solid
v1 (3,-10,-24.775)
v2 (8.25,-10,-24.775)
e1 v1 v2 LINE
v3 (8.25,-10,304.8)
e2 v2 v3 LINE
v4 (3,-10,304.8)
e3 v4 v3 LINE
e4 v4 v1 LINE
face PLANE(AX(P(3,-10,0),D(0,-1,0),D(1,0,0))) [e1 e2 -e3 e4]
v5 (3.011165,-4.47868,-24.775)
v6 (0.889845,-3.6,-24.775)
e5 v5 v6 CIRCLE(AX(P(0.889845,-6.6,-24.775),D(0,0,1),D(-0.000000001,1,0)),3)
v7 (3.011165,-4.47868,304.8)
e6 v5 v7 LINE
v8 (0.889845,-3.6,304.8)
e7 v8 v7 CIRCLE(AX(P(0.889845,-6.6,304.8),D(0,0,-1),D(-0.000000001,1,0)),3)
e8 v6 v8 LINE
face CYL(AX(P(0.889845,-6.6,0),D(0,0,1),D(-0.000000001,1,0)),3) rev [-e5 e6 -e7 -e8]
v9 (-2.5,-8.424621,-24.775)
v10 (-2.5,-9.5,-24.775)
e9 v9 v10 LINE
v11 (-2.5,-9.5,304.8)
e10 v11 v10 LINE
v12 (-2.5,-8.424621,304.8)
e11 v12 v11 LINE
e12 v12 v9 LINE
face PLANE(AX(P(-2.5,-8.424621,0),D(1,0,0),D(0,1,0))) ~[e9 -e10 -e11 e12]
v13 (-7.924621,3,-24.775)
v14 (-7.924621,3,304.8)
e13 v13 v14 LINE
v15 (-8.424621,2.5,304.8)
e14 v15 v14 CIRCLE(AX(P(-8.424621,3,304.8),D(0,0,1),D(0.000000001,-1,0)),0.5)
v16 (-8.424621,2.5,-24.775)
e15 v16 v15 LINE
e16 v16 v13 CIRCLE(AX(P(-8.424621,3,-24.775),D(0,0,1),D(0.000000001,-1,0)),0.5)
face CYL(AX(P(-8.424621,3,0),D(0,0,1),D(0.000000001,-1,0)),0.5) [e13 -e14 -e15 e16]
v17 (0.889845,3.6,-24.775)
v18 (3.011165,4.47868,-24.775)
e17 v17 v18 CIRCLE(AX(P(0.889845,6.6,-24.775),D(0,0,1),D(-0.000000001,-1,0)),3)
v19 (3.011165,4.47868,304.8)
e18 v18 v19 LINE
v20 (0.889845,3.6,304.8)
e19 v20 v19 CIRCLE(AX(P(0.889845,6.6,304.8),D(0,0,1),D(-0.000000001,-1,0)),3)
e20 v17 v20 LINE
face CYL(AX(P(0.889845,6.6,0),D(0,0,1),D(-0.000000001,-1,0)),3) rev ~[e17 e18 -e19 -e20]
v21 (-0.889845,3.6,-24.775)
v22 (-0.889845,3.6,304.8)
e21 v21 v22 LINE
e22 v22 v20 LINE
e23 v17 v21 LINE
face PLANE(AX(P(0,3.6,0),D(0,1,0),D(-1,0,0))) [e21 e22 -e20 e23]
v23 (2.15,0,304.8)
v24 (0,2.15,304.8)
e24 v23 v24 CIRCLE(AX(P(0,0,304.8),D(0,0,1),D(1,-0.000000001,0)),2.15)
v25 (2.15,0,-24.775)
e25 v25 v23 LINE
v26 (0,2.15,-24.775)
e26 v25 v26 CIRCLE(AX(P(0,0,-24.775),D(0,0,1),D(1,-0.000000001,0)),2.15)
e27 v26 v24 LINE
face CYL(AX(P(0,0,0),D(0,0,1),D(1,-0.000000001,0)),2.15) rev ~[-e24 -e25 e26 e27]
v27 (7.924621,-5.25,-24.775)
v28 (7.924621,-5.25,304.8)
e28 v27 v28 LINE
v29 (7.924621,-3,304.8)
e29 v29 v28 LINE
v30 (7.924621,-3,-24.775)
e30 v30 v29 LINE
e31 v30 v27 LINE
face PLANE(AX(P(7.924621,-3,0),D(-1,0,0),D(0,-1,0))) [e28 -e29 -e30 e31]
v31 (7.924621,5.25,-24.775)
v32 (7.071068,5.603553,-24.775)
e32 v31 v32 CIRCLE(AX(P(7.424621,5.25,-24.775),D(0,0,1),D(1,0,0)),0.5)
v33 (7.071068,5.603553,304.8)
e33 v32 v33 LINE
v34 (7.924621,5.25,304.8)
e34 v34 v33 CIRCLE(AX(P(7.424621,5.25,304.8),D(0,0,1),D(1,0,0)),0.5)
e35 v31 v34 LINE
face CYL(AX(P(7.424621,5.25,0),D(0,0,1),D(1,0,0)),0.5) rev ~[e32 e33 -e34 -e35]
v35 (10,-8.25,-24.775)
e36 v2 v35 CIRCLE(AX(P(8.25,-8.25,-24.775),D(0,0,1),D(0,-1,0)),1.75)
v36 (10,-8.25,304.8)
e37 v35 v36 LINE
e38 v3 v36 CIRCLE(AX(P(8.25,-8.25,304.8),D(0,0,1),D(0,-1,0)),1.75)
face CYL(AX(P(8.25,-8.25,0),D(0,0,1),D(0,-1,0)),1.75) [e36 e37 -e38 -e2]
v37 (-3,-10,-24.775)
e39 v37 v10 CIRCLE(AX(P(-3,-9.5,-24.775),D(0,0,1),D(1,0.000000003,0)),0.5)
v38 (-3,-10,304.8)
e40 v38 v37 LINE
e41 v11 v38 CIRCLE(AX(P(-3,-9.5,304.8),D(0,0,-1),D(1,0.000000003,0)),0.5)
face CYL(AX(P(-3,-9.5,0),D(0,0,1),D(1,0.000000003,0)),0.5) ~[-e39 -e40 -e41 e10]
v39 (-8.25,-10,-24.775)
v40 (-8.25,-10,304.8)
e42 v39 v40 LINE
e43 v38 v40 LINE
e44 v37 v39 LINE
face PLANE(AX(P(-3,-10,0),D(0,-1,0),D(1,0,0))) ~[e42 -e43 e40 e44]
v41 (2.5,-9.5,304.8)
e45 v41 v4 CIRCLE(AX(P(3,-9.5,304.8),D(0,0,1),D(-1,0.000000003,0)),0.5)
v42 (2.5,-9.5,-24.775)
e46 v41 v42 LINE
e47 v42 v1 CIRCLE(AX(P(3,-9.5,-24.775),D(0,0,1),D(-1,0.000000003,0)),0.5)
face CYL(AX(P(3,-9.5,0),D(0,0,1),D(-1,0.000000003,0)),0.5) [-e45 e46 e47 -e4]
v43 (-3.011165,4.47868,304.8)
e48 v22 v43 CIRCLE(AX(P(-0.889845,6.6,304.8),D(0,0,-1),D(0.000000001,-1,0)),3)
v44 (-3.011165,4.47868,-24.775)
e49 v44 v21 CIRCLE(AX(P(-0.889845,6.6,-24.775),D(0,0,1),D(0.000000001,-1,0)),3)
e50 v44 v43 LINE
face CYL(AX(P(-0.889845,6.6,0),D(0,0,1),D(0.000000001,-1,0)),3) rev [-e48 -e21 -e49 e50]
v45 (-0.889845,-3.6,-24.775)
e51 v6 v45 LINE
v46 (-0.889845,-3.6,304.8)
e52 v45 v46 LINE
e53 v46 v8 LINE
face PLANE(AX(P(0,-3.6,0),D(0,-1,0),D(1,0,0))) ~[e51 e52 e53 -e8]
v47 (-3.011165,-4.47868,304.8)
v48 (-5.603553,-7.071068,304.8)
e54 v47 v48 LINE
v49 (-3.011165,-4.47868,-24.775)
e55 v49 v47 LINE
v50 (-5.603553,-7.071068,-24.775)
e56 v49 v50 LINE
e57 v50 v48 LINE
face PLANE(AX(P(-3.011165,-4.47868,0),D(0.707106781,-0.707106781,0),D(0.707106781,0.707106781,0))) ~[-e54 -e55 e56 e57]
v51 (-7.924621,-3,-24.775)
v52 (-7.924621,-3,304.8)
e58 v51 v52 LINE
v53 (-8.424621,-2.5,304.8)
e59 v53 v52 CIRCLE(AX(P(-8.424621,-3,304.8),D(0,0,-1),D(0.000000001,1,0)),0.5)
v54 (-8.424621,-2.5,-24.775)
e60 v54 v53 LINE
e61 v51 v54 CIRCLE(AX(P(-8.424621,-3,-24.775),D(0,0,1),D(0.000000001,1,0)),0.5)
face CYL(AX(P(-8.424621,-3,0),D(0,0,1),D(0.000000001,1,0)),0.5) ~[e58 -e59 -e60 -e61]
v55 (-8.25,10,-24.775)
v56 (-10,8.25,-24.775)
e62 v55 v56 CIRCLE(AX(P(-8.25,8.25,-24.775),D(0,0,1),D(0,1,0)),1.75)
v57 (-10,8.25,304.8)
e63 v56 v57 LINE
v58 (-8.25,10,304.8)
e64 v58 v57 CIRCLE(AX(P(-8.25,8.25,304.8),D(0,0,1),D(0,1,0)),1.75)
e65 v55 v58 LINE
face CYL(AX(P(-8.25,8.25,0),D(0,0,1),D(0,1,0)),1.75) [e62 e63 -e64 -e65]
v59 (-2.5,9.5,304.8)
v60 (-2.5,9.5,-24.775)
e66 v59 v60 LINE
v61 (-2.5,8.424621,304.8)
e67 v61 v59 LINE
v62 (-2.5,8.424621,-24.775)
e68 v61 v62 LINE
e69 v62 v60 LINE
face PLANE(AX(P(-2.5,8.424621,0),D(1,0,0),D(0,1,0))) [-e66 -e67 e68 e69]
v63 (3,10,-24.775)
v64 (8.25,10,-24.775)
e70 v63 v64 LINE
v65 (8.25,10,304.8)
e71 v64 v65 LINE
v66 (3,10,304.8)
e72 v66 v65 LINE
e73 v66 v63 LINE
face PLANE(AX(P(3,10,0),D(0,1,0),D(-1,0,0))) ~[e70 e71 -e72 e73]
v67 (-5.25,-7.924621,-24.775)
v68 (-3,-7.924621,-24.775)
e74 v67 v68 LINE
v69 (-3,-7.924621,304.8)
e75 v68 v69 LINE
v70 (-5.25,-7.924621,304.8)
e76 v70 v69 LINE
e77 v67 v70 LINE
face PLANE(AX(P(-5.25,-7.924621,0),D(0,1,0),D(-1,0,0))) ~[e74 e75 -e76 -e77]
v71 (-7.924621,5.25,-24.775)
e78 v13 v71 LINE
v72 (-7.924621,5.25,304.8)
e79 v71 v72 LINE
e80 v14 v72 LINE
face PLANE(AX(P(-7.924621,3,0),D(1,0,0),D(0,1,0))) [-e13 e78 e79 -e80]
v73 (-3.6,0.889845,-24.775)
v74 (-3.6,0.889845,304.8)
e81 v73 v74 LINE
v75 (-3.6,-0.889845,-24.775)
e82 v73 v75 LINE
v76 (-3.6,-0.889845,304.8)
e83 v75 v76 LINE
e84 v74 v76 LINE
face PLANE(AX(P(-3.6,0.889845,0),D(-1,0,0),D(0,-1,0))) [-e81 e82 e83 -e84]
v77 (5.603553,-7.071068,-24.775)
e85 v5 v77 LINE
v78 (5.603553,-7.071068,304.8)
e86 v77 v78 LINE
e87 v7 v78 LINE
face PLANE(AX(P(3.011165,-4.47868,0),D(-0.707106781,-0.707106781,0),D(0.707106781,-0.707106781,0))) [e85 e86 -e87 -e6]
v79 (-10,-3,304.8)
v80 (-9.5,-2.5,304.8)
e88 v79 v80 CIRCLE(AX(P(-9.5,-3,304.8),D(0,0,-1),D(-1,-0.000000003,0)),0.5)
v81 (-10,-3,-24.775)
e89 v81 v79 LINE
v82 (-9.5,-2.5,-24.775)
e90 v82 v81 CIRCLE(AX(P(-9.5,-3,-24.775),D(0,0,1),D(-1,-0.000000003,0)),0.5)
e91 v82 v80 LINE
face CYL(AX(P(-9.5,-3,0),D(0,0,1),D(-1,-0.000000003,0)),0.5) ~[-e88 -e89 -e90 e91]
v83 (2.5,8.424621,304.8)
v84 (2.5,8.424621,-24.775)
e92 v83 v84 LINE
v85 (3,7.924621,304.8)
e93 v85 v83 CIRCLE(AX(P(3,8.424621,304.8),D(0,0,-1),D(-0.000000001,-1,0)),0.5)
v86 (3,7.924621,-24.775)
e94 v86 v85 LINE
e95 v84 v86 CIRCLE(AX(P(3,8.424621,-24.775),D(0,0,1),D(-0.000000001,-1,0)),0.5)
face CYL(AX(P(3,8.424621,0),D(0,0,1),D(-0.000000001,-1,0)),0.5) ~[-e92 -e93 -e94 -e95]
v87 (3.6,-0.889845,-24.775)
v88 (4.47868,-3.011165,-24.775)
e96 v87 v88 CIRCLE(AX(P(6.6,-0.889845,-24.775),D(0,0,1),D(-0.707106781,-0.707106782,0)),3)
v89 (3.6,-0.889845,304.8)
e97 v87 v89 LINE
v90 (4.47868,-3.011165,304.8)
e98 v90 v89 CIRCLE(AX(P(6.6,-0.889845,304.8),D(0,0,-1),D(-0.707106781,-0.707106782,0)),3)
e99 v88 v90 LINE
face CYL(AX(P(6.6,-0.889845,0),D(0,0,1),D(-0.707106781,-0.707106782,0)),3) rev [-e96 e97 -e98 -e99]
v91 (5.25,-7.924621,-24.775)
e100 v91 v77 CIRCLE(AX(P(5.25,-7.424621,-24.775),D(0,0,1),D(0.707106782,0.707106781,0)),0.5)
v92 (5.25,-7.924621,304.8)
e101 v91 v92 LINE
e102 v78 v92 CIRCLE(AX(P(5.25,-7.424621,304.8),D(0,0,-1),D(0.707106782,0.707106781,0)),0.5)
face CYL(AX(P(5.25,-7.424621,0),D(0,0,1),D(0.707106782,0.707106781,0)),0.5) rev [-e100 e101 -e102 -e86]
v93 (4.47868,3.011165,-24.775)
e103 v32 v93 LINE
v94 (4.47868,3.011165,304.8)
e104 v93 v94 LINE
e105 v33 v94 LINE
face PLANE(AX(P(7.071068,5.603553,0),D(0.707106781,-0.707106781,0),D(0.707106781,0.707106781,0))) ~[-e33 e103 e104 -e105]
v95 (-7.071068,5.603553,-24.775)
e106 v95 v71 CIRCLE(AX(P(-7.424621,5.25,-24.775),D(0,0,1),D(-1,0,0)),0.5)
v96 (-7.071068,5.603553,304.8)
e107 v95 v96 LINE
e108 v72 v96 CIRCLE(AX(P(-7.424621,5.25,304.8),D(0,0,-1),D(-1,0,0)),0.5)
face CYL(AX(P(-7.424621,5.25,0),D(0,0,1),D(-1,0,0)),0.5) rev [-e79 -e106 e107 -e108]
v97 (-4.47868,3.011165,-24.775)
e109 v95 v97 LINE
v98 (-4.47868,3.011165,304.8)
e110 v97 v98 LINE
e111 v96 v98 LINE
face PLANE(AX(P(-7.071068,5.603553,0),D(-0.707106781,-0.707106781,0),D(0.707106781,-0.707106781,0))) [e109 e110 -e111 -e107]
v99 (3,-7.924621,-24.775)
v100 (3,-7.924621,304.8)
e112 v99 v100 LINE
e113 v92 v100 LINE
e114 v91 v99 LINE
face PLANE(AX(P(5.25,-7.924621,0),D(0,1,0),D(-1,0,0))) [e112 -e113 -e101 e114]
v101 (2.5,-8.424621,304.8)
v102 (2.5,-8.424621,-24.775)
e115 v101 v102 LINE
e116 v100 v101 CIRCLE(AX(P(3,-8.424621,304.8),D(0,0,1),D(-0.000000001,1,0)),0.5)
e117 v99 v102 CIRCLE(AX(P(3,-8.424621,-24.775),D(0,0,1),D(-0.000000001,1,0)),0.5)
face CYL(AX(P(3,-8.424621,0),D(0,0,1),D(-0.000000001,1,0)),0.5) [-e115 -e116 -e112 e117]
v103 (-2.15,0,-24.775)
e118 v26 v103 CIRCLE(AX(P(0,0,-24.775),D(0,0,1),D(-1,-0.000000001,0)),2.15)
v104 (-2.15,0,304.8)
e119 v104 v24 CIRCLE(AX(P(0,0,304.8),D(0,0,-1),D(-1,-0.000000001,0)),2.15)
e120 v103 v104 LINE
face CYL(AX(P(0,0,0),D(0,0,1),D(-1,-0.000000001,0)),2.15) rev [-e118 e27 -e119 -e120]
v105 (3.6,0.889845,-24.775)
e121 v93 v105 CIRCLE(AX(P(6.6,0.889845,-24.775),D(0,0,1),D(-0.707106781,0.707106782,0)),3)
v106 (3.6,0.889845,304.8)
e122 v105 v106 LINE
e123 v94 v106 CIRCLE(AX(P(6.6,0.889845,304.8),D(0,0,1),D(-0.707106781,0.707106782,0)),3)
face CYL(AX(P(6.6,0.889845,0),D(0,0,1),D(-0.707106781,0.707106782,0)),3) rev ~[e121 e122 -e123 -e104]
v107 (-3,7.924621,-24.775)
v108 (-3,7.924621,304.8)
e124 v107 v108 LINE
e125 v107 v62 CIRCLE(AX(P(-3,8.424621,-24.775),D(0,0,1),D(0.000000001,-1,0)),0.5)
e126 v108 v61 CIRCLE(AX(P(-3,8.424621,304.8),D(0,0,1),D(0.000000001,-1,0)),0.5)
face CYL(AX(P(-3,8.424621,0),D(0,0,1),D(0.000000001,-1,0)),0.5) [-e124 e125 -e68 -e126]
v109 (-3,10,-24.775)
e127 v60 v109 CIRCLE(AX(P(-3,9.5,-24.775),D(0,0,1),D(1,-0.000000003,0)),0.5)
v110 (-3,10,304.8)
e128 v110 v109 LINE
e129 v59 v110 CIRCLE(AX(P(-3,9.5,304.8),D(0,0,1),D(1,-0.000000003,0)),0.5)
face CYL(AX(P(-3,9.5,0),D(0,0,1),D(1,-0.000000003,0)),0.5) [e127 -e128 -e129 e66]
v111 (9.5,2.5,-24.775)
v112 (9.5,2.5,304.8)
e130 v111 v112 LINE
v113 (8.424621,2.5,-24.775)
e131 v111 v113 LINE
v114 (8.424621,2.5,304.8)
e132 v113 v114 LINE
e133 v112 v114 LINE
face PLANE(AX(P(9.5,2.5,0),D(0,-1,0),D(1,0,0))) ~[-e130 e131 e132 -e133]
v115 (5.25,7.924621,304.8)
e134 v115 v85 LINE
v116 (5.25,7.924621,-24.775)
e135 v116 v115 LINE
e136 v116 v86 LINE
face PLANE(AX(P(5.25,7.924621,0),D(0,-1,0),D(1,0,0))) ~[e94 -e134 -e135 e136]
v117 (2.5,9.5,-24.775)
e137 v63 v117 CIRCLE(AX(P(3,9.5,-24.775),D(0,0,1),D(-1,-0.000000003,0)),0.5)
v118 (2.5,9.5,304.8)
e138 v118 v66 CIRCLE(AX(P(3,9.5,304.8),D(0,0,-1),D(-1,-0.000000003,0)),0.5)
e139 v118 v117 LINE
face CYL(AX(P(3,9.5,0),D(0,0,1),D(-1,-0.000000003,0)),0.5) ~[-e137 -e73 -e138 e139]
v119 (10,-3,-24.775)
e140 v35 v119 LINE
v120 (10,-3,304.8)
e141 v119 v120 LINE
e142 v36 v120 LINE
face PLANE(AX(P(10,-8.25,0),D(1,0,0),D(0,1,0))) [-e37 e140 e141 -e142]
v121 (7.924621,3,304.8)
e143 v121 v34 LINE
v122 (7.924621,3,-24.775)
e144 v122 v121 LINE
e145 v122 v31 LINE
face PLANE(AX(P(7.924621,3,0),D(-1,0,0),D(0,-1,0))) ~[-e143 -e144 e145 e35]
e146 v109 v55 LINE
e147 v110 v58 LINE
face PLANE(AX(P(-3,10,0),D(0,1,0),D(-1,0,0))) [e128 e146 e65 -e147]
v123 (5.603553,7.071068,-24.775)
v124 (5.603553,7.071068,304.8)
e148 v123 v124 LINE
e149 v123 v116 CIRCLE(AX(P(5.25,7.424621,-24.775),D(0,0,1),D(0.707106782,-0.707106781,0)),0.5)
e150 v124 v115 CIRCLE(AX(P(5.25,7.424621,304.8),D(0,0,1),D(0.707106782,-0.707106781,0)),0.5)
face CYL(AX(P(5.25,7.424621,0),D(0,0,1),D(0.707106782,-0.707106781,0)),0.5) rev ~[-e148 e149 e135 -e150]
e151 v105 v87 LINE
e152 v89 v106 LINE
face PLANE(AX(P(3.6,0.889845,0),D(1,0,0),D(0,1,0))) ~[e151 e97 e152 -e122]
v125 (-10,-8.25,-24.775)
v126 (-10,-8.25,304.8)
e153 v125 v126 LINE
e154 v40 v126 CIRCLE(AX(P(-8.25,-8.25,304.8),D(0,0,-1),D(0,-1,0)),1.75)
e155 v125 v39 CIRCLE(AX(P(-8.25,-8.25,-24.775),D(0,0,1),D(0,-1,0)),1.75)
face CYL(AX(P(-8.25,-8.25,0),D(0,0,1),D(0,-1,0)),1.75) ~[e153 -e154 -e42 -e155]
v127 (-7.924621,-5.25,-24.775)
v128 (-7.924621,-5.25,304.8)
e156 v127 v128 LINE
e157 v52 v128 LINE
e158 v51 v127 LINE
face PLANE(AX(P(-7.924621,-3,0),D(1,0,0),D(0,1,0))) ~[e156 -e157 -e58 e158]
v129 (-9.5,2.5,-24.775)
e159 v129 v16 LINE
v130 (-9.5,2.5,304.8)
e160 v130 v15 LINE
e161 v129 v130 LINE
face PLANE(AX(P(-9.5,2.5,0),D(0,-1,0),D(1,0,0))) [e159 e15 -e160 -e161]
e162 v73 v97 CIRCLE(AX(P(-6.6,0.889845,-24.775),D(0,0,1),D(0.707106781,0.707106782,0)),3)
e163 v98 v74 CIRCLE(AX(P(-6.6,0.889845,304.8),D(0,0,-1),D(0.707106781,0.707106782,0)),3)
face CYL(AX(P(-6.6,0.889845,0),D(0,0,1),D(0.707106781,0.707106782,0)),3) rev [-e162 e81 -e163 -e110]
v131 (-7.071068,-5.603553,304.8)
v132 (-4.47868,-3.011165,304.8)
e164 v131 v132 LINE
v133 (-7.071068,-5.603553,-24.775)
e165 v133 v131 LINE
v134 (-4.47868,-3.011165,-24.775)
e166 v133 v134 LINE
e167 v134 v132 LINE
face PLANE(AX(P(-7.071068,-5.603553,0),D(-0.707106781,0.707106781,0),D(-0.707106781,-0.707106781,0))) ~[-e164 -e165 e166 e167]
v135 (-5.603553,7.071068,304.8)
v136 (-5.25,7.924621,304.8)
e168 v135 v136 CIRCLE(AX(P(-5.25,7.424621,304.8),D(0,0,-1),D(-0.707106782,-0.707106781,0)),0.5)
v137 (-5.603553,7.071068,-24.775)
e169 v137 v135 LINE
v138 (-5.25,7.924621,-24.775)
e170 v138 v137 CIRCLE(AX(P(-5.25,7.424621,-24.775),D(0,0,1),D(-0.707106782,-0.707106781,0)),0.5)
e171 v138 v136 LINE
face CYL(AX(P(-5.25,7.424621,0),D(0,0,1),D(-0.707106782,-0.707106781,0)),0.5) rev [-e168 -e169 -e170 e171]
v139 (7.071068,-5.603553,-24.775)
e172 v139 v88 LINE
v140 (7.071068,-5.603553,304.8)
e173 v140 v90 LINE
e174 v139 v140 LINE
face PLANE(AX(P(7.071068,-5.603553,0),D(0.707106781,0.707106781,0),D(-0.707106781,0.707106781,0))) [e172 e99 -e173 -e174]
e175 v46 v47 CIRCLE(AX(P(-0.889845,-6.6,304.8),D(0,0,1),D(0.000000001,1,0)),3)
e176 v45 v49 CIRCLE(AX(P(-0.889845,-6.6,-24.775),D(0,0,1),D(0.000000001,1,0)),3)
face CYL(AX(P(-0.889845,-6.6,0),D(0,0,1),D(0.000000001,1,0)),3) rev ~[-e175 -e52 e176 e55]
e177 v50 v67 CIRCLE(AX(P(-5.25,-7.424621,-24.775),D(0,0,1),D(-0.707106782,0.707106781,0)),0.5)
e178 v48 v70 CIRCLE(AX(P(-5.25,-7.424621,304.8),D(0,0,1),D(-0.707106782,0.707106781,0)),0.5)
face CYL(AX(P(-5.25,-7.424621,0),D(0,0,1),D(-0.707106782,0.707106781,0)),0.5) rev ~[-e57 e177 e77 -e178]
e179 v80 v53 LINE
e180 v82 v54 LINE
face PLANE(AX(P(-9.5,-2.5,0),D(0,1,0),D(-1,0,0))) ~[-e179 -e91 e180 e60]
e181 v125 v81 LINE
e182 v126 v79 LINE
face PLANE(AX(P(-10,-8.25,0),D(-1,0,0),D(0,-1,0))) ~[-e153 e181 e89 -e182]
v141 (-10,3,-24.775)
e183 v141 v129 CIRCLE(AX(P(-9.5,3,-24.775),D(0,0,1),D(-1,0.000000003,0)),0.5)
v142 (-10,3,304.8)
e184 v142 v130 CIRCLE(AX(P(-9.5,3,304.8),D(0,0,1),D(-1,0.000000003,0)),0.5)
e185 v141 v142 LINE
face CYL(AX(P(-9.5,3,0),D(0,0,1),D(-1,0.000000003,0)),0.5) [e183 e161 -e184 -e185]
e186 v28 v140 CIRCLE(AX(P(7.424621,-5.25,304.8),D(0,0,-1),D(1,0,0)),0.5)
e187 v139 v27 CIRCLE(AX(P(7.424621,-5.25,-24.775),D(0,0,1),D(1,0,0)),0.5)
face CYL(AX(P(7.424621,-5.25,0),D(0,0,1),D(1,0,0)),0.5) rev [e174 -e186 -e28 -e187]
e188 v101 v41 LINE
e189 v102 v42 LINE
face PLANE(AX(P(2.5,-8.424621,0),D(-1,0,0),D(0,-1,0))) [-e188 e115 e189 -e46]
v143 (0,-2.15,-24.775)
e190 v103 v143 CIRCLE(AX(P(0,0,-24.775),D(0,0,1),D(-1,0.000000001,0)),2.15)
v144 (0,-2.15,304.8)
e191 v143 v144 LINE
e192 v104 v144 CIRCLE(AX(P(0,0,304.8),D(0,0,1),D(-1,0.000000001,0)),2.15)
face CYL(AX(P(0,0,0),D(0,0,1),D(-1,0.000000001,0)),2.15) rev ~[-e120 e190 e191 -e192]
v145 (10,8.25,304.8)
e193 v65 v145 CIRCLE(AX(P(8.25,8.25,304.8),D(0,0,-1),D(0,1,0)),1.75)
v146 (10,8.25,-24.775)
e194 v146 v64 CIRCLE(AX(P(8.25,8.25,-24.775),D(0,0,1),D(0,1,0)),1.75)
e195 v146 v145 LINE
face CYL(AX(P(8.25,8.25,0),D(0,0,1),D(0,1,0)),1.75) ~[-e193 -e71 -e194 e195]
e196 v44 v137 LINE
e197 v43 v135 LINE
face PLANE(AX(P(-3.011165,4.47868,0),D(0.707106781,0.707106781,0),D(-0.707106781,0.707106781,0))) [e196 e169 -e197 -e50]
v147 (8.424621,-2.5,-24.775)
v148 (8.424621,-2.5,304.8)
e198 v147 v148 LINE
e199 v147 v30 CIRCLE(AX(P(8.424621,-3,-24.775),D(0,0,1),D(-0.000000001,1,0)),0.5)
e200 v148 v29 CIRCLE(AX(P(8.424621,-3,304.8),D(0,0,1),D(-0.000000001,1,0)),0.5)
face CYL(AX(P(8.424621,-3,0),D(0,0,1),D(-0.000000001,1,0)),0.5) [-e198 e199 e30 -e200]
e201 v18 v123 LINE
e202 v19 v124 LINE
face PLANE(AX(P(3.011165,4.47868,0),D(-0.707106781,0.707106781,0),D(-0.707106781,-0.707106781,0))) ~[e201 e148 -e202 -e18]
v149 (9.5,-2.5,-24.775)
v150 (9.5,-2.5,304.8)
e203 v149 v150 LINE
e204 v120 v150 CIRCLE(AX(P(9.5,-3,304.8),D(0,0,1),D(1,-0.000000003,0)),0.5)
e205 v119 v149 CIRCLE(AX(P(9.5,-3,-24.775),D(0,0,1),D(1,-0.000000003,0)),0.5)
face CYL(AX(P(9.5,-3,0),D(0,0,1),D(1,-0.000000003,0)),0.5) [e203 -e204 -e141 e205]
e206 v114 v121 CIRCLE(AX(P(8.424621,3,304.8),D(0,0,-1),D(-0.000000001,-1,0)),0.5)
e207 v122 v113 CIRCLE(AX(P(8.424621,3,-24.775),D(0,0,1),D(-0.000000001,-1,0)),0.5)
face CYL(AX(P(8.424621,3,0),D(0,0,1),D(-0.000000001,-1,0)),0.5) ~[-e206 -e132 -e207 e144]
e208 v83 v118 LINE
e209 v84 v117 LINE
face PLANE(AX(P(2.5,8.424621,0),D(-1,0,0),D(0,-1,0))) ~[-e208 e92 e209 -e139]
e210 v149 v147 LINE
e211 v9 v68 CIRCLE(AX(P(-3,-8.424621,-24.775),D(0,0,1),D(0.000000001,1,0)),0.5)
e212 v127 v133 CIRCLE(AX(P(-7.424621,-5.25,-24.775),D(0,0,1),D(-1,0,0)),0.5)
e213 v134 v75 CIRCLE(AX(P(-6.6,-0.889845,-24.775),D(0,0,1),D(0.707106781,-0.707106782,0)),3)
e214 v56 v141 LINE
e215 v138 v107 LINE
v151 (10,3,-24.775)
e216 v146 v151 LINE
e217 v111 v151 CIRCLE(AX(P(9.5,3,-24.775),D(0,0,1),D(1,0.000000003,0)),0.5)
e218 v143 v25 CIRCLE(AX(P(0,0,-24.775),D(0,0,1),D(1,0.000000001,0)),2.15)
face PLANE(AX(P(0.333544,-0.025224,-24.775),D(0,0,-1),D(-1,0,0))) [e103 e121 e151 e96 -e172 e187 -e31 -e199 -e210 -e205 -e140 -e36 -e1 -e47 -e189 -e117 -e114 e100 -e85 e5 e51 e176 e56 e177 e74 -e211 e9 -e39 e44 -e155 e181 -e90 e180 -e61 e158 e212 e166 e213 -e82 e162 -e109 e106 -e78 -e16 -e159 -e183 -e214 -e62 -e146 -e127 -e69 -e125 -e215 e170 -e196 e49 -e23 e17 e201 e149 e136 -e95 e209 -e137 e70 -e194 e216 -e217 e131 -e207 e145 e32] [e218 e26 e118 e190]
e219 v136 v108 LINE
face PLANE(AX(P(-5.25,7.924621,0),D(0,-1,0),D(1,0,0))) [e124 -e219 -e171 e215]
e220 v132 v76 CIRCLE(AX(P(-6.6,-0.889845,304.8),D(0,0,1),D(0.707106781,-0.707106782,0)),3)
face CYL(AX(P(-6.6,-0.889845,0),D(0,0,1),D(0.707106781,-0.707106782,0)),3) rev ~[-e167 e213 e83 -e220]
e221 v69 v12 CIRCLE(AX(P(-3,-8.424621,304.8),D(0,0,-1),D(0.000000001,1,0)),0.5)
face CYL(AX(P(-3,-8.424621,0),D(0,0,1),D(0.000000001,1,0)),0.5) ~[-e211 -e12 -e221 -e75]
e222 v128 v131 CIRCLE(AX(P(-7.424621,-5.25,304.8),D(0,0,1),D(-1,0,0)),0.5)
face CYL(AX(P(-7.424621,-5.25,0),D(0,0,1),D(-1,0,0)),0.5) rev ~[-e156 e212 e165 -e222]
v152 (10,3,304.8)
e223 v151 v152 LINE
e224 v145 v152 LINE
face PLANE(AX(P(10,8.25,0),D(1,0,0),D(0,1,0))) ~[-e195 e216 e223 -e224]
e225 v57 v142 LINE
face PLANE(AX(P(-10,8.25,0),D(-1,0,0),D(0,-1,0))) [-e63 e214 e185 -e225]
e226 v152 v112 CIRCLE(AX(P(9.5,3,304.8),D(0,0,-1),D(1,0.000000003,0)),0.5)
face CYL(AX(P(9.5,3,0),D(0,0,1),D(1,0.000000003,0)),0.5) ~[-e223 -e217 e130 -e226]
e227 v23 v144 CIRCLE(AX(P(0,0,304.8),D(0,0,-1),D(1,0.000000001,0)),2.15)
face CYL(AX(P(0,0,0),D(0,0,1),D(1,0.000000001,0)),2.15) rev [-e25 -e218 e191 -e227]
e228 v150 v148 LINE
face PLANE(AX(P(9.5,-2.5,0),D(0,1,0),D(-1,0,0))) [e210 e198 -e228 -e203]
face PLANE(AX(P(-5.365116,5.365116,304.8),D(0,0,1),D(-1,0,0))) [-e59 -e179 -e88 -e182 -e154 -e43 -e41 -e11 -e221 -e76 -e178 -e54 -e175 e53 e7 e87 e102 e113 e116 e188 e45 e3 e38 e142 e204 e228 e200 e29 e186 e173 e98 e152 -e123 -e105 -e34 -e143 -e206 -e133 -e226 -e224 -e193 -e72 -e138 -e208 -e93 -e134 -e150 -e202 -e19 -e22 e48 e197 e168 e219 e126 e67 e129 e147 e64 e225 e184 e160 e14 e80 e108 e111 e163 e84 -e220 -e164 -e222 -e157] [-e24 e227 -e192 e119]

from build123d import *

# Parameters (mm, degrees)
BOSS_EXTRUDE1_DEPTH = 304.8
SKETCH5_W           = 26.995197012
SKETCH5_H           = 24.68705749
CUT_EXTRUDE1_DEPTH  = 280.025


with BuildPart() as part:
    # Sketch4 → Boss-Extrude1 (new, symmetric)
    with BuildSketch(Plane.XY):
        with BuildLine():
            Line((3, -10), (8.25, -10))
            ThreePointArc((8.25, -10), (9.487436867, -9.487436867), (10, -8.25))
            Line((10, -8.25), (10, -3))
            ThreePointArc((10, -3), (9.853553391, -2.646446609), (9.5, -2.5))
            Line((9.5, -2.5), (8.424621202, -2.5))
            ThreePointArc((8.424621202, -2.5), (8.071067812, -2.646446609), (7.924621202, -3))
            Line((7.924621202, -3), (7.924621202, -5.25))
            ThreePointArc((7.924621202, -5.25), (7.615962919, -5.711939766), (7.071067812, -5.603553391))
            Line((7.071067812, -5.603553391), (4.478679656, -3.011165235))
            ThreePointArc((4.478679656, -3.011165235), (3.828361402, -2.037895189), (3.6, -0.889844892))
            Line((3.6, -0.889844892), (3.6, 0))
            Line((3.6, 0), (2.15, 0))
            ThreePointArc((2.15, 0), (1.52027958, -1.52027958), (0, -2.15))
            Line((0, -2.15), (0, -3.6))
            Line((0, -3.6), (0.889844892, -3.6))
            ThreePointArc((0.889844892, -3.6), (2.037895189, -3.828361402), (3.011165235, -4.478679656))
            Line((3.011165235, -4.478679656), (5.603553391, -7.071067812))
            ThreePointArc((5.603553391, -7.071067812), (5.711939766, -7.615962919), (5.25, -7.924621202))
            Line((5.25, -7.924621202), (3, -7.924621202))
            ThreePointArc((3, -7.924621202), (2.646446609, -8.071067812), (2.5, -8.424621202))
            Line((2.5, -8.424621202), (2.5, -9.5))
            ThreePointArc((2.5, -9.5), (2.646446609, -9.853553391), (3, -10))
        make_face()
    extrude(amount=BOSS_EXTRUDE1_DEPTH, both=True)

    # Mirror1: part across plane


with BuildPart() as part_1:
    add(part.part)
    add(part.part.mirror(Plane(origin=(0, 0, 0), x_dir=(0, 0, 1), z_dir=(1, 0, 0))))

    # Mirror2: part across plane


with BuildPart() as part_2:
    add(part_1.part)
    add(part_1.part.mirror(Plane.ZX))

    # Sketch5 → Cut-Extrude1 (cut)
    with BuildSketch(Plane(origin=(0, 0, -304.8), x_dir=(-1, 0, 0), z_dir=(0, 0, -1))):
        with Locations((-0.333544011, -0.025224209)):
            Rectangle(SKETCH5_W, SKETCH5_H)
    extrude(amount=-CUT_EXTRUDE1_DEPTH, mode=Mode.SUBTRACT)


solid = part_2.part
